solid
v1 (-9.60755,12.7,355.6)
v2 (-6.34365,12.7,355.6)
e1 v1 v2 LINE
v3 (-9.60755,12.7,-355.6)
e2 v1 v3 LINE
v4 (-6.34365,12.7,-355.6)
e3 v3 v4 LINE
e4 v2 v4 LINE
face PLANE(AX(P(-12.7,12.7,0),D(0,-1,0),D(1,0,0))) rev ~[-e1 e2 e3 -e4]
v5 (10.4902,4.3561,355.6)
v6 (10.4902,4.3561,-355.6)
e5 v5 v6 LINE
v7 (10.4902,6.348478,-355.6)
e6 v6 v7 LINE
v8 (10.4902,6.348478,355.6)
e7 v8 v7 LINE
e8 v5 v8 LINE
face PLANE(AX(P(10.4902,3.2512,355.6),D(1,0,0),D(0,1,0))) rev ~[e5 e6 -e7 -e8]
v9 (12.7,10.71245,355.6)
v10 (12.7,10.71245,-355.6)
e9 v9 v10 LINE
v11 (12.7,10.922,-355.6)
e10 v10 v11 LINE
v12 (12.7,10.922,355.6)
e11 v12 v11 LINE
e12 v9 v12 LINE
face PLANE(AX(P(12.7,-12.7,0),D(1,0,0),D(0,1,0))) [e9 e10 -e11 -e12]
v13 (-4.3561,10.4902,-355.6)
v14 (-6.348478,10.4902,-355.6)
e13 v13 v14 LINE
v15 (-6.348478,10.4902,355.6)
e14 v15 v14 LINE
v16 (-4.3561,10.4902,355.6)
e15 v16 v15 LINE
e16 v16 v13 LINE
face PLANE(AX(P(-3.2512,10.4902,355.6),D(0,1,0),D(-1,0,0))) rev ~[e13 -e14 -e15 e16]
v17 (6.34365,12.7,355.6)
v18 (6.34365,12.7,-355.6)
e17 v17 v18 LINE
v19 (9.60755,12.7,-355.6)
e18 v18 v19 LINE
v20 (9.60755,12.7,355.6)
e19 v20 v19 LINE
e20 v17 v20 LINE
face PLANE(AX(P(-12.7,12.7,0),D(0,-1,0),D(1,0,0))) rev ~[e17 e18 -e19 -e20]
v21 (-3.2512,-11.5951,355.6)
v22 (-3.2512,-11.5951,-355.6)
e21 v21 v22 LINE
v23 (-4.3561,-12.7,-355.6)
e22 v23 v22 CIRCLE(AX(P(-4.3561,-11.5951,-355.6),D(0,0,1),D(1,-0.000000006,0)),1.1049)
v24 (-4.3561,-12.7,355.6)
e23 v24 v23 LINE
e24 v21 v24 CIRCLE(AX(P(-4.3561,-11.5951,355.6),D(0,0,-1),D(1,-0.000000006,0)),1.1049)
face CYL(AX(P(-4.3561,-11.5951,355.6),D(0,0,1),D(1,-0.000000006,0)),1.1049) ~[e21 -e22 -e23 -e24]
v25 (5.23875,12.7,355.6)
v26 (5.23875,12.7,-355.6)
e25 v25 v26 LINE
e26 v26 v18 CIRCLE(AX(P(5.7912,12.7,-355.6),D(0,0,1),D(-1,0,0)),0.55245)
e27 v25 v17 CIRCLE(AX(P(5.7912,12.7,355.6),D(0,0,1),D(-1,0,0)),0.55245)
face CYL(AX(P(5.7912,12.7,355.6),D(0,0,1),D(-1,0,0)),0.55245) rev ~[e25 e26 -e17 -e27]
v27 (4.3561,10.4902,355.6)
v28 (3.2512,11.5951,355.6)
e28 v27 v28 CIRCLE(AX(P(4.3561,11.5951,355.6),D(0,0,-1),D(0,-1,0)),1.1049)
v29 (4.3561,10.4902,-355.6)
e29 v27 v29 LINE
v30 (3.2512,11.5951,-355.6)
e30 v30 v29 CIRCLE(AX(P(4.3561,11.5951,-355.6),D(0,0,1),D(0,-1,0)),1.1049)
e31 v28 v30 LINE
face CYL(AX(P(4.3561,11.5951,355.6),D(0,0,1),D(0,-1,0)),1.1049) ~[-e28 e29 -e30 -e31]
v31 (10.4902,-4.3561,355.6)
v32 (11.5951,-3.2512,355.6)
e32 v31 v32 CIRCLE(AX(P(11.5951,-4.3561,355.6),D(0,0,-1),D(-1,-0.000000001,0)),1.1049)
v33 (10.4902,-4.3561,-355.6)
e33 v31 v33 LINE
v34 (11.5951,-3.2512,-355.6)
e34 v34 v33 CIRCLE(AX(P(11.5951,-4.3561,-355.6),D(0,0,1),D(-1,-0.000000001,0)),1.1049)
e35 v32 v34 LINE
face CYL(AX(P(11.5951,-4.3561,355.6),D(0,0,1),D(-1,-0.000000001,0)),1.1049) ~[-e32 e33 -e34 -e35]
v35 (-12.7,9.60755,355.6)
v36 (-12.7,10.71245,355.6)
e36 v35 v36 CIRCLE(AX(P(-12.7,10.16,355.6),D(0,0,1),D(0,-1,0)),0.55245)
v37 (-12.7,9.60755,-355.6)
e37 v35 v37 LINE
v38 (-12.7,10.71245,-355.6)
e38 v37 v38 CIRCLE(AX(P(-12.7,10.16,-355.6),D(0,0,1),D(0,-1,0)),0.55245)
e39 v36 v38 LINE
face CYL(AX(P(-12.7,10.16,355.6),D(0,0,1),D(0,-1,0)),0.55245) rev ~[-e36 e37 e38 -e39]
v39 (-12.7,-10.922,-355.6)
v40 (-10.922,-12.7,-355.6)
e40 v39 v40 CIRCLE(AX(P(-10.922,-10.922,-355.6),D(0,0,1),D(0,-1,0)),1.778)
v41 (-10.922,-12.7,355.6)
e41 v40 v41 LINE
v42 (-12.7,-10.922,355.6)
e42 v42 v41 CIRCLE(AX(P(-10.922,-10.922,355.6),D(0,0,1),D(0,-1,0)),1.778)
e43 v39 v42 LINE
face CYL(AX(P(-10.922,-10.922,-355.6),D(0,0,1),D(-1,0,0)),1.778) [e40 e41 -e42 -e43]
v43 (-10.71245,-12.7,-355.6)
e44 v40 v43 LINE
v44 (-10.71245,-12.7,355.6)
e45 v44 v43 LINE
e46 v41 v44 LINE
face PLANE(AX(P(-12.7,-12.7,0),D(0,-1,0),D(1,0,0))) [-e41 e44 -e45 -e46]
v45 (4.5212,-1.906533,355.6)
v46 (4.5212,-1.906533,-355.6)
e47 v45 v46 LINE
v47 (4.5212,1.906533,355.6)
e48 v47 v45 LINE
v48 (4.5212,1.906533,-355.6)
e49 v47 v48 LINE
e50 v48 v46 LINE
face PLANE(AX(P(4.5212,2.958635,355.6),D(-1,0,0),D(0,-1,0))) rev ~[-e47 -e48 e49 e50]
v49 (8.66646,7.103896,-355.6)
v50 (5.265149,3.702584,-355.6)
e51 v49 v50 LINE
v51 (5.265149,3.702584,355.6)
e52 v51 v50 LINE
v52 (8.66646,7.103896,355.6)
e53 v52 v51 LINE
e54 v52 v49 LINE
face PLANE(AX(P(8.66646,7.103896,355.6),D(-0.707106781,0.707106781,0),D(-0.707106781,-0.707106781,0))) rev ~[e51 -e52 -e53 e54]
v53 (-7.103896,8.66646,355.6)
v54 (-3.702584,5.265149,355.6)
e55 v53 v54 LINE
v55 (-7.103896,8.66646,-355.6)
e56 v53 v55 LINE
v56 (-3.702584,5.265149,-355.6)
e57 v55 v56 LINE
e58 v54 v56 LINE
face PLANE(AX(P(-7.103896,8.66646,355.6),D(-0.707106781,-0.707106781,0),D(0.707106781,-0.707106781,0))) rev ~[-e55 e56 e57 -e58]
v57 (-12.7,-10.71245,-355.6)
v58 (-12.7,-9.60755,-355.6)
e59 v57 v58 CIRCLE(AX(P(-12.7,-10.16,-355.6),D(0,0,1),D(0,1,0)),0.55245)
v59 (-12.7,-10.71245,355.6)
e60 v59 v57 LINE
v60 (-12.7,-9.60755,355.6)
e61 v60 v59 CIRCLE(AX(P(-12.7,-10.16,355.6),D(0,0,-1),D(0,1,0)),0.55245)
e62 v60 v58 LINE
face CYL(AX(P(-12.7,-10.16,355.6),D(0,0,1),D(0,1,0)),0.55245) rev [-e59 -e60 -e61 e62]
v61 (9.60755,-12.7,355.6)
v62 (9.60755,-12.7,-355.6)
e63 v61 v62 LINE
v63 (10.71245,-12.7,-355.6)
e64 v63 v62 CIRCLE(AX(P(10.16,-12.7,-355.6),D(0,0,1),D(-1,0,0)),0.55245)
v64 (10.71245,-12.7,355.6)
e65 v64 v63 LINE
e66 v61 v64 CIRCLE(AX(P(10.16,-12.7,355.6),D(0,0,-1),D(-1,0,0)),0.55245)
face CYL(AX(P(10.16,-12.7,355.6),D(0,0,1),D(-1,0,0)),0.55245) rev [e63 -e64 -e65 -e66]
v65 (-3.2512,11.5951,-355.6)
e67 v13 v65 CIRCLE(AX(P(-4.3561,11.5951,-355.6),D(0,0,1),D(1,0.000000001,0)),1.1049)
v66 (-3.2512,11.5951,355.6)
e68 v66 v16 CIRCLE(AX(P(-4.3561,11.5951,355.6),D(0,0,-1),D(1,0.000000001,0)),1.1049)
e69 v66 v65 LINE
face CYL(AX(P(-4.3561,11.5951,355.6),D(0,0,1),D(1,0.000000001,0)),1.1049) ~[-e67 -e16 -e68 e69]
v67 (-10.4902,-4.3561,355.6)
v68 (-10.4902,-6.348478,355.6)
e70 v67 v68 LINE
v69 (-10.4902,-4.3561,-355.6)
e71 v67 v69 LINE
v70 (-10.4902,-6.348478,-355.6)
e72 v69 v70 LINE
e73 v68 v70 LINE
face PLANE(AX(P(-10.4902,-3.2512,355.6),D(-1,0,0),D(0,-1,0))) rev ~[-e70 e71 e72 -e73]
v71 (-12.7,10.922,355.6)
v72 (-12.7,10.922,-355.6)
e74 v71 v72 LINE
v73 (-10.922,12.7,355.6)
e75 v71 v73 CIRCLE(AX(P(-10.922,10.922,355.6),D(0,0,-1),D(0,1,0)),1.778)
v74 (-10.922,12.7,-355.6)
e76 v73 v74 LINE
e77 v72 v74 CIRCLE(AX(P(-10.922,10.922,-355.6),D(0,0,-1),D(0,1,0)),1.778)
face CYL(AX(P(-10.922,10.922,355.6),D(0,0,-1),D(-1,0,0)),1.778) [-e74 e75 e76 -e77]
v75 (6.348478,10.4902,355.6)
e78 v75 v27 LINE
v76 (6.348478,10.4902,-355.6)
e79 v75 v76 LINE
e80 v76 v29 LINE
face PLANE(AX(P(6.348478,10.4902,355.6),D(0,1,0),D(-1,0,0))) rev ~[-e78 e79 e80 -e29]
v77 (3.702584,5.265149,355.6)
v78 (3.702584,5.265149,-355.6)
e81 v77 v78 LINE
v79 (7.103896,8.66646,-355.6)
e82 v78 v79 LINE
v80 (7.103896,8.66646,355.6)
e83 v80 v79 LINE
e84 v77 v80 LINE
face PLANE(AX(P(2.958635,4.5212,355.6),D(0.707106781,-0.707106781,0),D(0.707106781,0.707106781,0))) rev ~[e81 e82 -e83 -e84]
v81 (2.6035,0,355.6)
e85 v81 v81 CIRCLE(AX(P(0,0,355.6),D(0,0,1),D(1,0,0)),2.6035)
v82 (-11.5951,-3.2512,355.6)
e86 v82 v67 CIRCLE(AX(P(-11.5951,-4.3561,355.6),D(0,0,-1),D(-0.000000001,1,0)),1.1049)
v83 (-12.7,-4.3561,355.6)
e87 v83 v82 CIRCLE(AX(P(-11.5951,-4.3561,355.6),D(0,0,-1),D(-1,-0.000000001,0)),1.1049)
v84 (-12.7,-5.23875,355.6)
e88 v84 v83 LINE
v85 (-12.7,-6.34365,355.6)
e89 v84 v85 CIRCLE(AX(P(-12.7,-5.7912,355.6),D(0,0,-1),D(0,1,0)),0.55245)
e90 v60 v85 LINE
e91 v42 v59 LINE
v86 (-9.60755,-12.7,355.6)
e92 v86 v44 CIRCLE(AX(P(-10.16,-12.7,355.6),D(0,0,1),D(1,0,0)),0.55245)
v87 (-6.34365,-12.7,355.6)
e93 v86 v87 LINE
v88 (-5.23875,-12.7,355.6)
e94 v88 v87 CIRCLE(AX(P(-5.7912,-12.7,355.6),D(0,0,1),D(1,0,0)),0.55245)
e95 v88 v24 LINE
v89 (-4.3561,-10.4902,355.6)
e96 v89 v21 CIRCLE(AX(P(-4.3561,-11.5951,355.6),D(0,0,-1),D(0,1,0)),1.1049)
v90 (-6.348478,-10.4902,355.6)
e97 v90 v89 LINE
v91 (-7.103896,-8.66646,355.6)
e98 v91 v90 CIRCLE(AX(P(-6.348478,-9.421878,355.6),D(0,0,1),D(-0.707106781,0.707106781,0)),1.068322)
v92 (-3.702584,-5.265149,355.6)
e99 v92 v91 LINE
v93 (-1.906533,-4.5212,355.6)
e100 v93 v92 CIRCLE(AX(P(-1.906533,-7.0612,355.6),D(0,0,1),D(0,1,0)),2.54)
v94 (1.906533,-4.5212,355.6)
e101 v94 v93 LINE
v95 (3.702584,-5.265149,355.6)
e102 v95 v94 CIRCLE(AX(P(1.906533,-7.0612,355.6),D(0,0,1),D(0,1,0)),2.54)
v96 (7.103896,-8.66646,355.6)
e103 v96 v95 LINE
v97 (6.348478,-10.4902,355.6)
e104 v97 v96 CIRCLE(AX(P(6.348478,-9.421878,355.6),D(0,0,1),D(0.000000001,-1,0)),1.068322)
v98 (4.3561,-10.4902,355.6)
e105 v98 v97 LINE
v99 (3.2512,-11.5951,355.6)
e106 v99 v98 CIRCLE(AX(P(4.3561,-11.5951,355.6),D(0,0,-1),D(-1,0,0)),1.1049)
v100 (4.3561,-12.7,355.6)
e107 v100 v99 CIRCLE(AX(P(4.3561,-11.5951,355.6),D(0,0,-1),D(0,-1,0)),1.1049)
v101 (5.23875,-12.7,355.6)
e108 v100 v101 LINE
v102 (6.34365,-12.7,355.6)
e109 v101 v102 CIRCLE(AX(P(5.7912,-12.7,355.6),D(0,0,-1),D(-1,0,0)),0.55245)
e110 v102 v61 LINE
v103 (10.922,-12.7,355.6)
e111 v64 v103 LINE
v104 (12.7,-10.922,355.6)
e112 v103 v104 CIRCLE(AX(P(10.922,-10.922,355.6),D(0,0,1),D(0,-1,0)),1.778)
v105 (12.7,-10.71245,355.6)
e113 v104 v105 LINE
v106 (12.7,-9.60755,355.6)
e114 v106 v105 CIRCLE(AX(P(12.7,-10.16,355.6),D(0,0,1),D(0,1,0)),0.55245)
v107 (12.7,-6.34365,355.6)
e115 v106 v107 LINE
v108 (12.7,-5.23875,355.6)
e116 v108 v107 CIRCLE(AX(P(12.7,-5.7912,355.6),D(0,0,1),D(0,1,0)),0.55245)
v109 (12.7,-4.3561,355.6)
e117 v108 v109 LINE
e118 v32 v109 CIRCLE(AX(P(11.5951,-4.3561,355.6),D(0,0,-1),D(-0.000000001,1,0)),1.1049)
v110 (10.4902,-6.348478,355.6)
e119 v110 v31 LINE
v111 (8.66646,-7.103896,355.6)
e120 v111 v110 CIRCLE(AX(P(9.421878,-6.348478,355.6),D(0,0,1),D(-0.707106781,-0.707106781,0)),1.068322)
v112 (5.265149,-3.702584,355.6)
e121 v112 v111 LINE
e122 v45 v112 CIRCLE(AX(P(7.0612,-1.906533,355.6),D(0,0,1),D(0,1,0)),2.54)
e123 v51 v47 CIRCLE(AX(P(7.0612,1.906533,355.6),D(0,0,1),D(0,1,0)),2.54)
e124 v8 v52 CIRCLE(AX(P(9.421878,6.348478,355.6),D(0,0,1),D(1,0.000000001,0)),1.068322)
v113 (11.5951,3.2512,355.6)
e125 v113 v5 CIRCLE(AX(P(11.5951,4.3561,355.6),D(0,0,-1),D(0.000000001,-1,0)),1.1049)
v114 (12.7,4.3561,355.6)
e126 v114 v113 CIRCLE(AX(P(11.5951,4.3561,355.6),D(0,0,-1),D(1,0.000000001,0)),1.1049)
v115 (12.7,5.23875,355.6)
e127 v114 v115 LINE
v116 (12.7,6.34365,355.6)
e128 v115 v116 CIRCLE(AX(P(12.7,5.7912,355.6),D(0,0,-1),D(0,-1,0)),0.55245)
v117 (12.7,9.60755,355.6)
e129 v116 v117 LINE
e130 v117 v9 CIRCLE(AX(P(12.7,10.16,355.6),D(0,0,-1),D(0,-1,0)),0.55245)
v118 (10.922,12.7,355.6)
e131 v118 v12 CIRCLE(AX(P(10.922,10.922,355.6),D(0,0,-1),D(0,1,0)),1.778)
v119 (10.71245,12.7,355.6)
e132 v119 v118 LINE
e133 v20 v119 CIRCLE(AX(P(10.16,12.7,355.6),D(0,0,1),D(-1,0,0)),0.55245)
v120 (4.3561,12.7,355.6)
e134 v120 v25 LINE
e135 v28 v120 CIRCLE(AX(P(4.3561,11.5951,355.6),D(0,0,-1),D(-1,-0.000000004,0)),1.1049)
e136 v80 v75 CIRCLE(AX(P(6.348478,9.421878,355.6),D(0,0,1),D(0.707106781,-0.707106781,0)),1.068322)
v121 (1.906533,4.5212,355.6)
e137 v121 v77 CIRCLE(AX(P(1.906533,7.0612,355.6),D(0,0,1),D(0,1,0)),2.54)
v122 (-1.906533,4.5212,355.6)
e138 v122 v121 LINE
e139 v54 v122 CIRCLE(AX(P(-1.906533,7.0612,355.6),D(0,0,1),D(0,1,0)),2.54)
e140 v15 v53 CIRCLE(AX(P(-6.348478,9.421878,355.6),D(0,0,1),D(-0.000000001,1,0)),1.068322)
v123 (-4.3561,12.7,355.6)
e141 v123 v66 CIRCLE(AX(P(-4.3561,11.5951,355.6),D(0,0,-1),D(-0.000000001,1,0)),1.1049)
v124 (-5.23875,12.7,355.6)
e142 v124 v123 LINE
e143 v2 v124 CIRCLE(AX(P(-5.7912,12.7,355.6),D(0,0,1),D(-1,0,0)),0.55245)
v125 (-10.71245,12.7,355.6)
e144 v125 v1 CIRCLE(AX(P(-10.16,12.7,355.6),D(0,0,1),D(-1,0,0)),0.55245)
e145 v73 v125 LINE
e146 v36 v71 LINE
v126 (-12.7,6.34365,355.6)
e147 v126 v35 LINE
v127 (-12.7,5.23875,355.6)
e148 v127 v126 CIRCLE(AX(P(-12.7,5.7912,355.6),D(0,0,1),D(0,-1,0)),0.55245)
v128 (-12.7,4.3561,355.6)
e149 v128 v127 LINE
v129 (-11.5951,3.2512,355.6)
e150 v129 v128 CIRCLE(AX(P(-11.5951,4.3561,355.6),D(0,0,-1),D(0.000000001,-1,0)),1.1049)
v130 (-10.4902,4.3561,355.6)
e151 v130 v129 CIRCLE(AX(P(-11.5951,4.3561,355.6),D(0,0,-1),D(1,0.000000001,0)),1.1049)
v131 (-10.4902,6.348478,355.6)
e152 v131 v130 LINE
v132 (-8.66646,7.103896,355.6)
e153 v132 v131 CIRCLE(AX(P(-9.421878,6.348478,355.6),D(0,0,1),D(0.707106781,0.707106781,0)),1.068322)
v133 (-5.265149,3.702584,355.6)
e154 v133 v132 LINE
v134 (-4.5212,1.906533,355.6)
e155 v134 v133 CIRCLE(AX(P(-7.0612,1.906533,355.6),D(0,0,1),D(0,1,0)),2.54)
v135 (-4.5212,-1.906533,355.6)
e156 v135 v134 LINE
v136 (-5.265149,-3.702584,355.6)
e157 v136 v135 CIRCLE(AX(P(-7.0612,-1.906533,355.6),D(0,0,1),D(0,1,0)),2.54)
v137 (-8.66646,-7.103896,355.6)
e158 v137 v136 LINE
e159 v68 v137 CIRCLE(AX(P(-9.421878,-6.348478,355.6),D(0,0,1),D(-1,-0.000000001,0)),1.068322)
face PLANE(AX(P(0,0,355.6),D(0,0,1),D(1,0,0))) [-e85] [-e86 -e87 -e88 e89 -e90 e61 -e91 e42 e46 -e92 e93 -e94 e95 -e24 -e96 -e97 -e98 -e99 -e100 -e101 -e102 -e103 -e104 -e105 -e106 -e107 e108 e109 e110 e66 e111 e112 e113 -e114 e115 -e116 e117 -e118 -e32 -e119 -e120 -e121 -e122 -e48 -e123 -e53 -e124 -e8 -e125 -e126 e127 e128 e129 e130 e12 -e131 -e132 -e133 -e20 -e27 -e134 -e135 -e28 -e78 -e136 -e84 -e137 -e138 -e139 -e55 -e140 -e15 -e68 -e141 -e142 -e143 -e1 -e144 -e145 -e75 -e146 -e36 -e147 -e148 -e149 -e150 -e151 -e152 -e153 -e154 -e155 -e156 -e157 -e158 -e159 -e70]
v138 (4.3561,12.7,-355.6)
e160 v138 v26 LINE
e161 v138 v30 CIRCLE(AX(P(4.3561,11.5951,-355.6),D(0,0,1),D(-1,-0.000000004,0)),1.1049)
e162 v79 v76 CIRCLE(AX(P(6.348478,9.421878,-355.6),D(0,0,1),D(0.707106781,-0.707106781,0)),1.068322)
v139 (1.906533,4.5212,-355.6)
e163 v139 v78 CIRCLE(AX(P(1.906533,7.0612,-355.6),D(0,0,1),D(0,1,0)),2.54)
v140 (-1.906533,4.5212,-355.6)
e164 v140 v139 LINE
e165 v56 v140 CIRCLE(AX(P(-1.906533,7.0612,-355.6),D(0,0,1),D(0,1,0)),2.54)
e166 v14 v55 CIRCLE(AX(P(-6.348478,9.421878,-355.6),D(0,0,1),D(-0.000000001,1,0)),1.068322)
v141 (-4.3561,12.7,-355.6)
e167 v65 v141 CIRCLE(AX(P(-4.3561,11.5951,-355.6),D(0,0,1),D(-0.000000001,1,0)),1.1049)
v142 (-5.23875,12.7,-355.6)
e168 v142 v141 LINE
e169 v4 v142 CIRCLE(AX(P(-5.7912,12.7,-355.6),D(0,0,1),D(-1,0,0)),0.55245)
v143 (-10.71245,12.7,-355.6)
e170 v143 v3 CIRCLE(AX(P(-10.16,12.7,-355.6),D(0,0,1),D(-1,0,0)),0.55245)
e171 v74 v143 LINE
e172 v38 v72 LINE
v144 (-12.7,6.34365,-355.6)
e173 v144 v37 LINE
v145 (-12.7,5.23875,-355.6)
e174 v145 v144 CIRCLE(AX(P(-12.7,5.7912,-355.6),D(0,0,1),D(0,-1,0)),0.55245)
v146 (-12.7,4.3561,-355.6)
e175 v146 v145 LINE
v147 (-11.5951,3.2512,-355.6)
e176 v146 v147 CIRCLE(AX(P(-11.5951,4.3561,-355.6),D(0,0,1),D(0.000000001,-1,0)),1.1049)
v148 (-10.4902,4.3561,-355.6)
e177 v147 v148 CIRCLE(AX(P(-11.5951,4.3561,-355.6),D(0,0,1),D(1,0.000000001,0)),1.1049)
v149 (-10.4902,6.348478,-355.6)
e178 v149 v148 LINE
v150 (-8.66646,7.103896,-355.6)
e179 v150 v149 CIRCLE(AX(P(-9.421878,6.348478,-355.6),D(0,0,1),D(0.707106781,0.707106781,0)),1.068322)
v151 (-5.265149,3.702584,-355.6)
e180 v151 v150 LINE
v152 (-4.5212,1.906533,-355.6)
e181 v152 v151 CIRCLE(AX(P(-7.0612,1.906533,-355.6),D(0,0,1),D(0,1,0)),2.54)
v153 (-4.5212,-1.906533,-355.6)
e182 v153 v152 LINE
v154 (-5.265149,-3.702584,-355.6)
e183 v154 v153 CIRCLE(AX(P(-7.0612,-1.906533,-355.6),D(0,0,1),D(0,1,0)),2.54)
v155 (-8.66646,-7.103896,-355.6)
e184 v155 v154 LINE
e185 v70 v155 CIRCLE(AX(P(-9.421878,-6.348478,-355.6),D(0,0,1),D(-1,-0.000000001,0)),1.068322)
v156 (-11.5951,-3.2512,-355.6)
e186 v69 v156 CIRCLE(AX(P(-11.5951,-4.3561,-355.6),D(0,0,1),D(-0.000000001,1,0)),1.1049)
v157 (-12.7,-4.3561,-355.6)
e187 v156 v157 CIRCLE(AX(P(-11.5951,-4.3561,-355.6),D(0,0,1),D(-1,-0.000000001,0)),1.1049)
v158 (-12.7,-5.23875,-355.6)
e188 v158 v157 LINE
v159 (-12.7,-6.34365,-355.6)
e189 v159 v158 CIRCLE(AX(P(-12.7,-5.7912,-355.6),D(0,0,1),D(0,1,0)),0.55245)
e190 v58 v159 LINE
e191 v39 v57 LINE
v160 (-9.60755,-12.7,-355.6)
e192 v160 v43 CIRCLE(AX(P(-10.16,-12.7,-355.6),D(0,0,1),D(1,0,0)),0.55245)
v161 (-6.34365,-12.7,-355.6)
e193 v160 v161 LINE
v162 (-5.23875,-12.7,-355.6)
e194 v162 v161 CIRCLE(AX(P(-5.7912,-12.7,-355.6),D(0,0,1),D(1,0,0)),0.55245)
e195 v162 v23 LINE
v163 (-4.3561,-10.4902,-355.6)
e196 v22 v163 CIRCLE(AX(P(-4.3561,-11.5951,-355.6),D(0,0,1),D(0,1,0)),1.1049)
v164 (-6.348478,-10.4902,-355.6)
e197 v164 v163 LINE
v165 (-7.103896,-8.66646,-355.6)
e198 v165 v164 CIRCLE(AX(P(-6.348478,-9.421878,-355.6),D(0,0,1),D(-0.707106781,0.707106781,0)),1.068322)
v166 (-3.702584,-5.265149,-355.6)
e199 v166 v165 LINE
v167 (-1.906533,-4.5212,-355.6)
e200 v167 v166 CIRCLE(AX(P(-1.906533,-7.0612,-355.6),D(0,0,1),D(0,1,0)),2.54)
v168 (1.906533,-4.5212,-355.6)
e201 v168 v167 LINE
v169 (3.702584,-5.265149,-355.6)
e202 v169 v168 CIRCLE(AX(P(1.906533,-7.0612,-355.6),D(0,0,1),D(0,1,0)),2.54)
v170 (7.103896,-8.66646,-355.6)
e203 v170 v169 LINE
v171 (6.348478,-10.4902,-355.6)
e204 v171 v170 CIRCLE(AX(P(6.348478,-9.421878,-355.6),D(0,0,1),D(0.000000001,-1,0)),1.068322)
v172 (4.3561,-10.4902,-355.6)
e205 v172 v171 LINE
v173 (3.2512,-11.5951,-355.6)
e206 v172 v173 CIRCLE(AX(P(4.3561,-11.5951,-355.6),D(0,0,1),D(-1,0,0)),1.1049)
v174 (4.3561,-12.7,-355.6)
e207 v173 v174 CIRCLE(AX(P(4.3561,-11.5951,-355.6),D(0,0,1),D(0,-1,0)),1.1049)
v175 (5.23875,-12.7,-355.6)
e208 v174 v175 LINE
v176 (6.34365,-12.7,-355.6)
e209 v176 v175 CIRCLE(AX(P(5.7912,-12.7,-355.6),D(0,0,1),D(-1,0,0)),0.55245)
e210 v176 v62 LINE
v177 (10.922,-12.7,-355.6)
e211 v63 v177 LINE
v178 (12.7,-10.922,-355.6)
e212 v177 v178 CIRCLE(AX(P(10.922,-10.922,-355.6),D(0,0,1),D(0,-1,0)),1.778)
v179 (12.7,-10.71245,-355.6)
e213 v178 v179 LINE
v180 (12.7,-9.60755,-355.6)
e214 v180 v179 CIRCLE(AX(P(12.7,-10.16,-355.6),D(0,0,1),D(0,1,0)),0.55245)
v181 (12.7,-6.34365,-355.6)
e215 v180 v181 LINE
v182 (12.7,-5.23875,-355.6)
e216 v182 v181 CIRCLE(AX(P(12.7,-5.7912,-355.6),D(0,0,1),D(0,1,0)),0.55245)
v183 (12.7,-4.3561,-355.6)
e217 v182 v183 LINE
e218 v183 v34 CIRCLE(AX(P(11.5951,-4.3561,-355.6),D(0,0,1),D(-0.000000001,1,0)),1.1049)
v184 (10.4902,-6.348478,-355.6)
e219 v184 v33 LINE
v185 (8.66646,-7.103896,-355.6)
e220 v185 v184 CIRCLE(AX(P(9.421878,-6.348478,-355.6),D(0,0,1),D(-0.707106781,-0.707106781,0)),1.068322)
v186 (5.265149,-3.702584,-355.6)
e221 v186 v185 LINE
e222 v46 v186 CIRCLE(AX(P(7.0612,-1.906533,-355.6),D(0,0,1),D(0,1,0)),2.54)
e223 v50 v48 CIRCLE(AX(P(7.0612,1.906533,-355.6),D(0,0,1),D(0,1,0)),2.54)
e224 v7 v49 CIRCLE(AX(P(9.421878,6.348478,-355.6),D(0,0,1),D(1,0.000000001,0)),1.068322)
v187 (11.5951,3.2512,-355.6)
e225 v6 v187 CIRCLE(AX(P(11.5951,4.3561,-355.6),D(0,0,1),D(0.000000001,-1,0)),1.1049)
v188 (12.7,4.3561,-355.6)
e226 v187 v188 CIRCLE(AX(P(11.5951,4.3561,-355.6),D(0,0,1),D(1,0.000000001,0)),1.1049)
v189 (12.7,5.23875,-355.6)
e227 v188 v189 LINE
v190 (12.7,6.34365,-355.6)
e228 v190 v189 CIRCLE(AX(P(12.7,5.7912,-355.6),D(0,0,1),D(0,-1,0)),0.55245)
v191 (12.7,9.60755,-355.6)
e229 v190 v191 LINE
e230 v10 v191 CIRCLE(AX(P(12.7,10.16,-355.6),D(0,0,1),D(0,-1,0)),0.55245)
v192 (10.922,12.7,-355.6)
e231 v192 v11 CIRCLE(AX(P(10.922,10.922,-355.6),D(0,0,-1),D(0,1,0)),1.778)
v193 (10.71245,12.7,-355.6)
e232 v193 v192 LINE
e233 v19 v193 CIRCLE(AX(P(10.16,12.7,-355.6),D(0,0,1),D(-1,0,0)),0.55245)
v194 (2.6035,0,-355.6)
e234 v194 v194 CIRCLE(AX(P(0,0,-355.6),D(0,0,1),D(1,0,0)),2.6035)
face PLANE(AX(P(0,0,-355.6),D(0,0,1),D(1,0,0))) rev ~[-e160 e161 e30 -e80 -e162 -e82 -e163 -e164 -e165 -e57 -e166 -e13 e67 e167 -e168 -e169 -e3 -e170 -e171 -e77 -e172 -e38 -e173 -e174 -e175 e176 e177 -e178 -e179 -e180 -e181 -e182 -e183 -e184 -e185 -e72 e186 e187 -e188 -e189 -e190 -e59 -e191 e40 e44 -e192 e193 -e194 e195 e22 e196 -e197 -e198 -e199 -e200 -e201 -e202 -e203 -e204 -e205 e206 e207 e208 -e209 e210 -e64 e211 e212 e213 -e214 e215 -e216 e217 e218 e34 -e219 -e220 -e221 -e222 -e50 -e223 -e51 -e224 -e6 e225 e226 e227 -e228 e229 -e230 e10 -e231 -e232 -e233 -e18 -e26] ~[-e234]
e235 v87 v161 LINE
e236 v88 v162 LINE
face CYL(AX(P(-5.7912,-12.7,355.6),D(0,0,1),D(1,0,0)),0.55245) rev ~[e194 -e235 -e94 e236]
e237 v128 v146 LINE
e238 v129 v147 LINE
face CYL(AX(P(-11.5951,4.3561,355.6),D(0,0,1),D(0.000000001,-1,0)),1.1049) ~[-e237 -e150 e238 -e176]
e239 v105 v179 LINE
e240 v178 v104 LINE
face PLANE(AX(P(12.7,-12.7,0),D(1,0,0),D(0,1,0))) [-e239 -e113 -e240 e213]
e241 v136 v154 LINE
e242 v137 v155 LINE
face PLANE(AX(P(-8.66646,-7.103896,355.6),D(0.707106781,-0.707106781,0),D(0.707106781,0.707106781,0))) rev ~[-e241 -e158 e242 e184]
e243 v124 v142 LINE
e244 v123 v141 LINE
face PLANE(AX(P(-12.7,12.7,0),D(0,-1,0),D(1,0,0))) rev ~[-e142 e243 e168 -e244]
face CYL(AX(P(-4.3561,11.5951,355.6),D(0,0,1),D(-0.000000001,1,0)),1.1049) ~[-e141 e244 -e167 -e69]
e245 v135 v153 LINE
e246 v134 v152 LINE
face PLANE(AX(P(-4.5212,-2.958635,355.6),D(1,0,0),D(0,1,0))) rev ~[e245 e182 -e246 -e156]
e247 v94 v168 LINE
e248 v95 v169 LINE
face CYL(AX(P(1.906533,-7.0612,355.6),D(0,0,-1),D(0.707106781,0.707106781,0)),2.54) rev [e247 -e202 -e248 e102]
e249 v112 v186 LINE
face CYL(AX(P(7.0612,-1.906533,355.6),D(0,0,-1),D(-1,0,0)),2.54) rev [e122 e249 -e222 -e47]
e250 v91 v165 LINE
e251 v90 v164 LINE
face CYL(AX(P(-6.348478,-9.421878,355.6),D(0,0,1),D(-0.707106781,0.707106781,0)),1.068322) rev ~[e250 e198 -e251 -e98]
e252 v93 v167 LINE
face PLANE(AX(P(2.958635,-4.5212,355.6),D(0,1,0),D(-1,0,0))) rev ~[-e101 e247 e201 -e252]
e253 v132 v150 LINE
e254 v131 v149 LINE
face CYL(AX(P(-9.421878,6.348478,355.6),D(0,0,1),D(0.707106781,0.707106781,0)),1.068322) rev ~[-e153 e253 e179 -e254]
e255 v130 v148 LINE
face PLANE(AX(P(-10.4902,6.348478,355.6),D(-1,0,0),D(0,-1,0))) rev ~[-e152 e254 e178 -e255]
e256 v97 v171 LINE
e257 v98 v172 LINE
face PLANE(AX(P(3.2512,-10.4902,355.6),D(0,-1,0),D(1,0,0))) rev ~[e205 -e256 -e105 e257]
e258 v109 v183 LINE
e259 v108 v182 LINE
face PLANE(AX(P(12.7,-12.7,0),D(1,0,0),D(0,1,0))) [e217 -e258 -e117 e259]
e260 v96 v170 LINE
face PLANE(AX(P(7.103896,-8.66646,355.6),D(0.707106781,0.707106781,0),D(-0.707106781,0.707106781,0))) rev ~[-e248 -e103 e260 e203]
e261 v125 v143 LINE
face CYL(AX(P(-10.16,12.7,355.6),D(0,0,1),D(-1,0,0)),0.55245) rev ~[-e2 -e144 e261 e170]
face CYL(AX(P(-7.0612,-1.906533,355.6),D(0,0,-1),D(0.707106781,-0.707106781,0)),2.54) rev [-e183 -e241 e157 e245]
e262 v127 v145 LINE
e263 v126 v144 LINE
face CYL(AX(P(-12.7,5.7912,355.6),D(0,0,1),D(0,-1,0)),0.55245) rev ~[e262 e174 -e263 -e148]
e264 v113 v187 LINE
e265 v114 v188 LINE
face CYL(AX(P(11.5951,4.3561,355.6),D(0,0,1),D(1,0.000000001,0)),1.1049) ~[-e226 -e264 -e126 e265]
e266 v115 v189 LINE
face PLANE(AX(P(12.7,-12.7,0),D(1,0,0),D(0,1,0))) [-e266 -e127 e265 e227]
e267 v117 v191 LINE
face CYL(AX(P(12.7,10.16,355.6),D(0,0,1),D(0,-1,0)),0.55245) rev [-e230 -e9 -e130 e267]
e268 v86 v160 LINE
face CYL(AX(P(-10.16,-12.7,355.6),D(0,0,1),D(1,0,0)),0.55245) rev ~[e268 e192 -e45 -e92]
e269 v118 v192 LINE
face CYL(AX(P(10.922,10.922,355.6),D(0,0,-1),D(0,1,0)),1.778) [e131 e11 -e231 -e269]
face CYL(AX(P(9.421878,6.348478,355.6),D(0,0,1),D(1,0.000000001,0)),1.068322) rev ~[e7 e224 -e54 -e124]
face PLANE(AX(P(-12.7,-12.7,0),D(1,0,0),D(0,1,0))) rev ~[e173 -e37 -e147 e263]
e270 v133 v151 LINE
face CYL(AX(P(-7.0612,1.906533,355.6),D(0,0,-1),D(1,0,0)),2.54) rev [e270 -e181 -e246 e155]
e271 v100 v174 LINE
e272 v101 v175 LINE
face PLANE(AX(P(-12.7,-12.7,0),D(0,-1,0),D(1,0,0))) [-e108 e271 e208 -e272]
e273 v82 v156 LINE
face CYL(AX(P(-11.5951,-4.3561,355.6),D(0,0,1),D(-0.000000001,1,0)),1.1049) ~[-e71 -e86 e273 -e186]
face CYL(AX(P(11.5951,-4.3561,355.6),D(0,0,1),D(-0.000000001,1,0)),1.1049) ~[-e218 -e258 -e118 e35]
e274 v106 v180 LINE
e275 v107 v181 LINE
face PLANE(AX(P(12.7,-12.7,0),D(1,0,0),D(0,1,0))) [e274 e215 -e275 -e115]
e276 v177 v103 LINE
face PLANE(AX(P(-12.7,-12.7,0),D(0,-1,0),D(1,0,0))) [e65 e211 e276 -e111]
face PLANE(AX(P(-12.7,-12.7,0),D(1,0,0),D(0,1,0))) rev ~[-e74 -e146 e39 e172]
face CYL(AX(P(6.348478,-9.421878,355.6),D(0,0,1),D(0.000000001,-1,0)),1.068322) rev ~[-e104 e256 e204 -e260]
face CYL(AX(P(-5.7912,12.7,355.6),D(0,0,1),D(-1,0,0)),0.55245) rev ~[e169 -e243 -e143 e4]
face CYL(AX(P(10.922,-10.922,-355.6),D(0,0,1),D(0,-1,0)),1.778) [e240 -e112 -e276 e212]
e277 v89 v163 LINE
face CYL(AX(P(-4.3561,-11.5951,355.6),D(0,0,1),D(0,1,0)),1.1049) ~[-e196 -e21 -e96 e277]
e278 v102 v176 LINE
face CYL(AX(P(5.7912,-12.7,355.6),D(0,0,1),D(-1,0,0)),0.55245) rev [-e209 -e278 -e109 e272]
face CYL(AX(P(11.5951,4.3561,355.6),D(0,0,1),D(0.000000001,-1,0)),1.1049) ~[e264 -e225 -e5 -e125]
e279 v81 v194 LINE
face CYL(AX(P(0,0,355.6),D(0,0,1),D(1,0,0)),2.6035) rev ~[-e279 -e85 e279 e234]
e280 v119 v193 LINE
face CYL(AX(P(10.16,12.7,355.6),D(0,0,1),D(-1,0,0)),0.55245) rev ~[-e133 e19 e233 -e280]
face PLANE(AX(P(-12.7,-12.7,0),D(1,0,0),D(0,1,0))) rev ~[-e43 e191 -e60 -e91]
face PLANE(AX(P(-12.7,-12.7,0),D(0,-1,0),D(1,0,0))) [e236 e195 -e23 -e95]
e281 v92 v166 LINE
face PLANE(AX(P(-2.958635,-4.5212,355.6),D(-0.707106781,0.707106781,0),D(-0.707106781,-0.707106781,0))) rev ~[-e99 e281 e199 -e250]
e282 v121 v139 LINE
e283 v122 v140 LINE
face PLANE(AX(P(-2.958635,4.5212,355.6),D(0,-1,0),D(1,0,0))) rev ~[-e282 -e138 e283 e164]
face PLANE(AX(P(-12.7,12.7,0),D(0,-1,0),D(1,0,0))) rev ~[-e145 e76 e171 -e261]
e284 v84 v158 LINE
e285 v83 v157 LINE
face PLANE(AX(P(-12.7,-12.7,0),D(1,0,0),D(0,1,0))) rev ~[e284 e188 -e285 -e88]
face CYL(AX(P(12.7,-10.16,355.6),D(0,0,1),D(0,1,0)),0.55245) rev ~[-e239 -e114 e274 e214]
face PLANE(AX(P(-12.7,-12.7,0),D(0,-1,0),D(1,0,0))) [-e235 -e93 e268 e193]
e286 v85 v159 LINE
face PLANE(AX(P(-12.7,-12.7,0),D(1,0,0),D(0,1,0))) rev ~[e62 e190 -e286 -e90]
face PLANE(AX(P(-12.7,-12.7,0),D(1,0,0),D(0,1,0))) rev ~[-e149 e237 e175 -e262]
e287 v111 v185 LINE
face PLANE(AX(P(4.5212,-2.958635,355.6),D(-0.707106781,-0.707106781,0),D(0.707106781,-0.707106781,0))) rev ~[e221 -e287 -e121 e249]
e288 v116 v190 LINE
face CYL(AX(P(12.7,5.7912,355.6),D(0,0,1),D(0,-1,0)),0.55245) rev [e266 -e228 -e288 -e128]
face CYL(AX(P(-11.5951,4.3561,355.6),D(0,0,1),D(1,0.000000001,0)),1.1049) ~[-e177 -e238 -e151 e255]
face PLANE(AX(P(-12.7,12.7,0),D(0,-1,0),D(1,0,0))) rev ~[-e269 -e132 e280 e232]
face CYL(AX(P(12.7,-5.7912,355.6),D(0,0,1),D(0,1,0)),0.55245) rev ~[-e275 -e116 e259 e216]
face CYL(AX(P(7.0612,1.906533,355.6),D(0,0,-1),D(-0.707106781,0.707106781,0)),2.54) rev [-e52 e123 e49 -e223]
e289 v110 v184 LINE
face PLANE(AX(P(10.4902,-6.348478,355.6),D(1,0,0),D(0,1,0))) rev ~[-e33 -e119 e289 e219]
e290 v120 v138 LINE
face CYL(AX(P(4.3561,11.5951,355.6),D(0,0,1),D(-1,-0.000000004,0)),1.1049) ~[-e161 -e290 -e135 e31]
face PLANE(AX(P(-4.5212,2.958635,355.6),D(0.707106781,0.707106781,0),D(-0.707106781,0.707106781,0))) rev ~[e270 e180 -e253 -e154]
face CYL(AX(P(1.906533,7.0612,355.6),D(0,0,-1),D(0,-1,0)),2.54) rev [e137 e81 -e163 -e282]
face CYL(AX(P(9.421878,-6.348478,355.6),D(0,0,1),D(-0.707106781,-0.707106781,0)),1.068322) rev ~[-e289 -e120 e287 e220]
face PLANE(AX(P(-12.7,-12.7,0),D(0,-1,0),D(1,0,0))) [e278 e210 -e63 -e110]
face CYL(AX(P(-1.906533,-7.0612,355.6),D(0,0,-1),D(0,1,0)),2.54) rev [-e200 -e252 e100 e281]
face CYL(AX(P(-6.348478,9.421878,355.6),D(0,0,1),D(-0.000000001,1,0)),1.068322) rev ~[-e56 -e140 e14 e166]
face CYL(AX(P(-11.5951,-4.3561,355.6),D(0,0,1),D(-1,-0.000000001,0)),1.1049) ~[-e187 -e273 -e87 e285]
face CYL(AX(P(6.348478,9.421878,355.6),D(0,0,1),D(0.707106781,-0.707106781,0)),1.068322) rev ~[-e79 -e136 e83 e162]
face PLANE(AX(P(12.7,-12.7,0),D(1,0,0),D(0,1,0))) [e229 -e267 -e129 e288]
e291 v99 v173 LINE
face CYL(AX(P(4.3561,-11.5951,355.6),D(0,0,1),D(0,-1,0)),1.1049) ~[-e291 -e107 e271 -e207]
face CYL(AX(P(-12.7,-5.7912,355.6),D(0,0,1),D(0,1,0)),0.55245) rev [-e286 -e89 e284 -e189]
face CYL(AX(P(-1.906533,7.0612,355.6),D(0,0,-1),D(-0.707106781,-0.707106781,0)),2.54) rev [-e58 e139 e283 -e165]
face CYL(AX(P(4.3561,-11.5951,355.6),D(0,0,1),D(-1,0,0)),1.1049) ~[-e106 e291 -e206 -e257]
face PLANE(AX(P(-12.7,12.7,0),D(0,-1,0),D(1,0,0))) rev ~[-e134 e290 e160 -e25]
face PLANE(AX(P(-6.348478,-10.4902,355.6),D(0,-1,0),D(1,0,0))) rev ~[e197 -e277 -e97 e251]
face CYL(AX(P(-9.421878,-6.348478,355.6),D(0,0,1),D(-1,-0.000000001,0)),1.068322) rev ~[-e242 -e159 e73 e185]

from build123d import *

# Parameters (mm, degrees)
SKETCH3_W                = 25.4
SKETCH3_H                = 25.4
BOSS_EXTRUDE1_DEPTH      = 355.6
BOSS_EXTRUDE1_DEPTH_BACK = 355.6
SKETCH4_R                = 2.6035
CUT_EXTRUDE1_DEPTH       = 712.2
CUT_EXTRUDE2_DEPTH       = 712.2
FILLET1_R                = 2.54
FILLET2_R                = 1.778


with BuildPart() as part:
    # Sketch3 → Boss-Extrude1 (new body, two sides)
    with BuildSketch(Plane.XY) as boss_extrude1_sk:
        Rectangle(SKETCH3_W, SKETCH3_H)
    extrude(amount=BOSS_EXTRUDE1_DEPTH)
    extrude(boss_extrude1_sk.sketch, amount=-BOSS_EXTRUDE1_DEPTH_BACK)

    # Sketch4 → Cut-Extrude1 (cut, through all)
    with BuildSketch(Plane.XY.offset(355.6)):
        with BuildLine():
            Line((3.2512, 12.7), (-3.2512, 12.7))
            Line((-3.2512, 12.7), (-3.2512, 10.4902))
            Line((-3.2512, 10.4902), (-6.348478019, 10.4902))
            ThreePointArc((-6.348478019, 10.4902), (-7.335478831, 9.830707141), (-7.103895736, 8.666460301))
            Line((-7.103895736, 8.666460301), (-2.958635435, 4.5212))
            Line((-2.958635435, 4.5212), (2.958635435, 4.5212))
            Line((2.958635435, 4.5212), (7.103895736, 8.666460301))
            ThreePointArc((7.103895736, 8.666460301), (7.335478831, 9.830707141), (6.348478019, 10.4902))
            Line((6.348478019, 10.4902), (3.2512, 10.4902))
            Line((3.2512, 10.4902), (3.2512, 12.7))
        make_face()
        with BuildLine():
            Line((12.7, -3.2512), (12.7, 3.2512))
            Line((12.7, 3.2512), (10.4902, 3.2512))
            Line((10.4902, 3.2512), (10.4902, 6.348478019))
            ThreePointArc((10.4902, 6.348478019), (9.830707141, 7.335478831), (8.666460301, 7.103895736))
            Line((8.666460301, 7.103895736), (4.5212, 2.958635435))
            Line((4.5212, 2.958635435), (4.5212, -2.958635435))
            Line((4.5212, -2.958635435), (8.666460301, -7.103895736))
            ThreePointArc((8.666460301, -7.103895736), (9.830707141, -7.335478831), (10.4902, -6.348478019))
            Line((10.4902, -6.348478019), (10.4902, -3.2512))
            Line((10.4902, -3.2512), (12.7, -3.2512))
        make_face()
        with BuildLine():
            Line((-3.2512, -10.4902), (-3.2512, -12.7))
            Line((-3.2512, -12.7), (3.2512, -12.7))
            Line((3.2512, -12.7), (3.2512, -10.4902))
            Line((3.2512, -10.4902), (6.348478019, -10.4902))
            ThreePointArc((6.348478019, -10.4902), (7.335478831, -9.830707141), (7.103895736, -8.666460301))
            Line((7.103895736, -8.666460301), (2.958635435, -4.5212))
            Line((2.958635435, -4.5212), (-2.958635435, -4.5212))
            Line((-2.958635435, -4.5212), (-7.103895736, -8.666460301))
            ThreePointArc((-7.103895736, -8.666460301), (-7.335478831, -9.830707141), (-6.348478019, -10.4902))
            Line((-6.348478019, -10.4902), (-3.2512, -10.4902))
        make_face()
        with BuildLine():
            Line((-10.4902, 3.2512), (-12.7, 3.2512))
            Line((-12.7, 3.2512), (-12.7, -3.2512))
            Line((-12.7, -3.2512), (-10.4902, -3.2512))
            Line((-10.4902, -3.2512), (-10.4902, -6.348478019))
            ThreePointArc((-10.4902, -6.348478019), (-9.830707141, -7.335478831), (-8.666460301, -7.103895736))
            Line((-8.666460301, -7.103895736), (-4.5212, -2.958635435))
            Line((-4.5212, -2.958635435), (-4.5212, 2.958635435))
            Line((-4.5212, 2.958635435), (-8.666460301, 7.103895736))
            ThreePointArc((-8.666460301, 7.103895736), (-9.830707141, 7.335478831), (-10.4902, 6.348478019))
            Line((-10.4902, 6.348478019), (-10.4902, 3.2512))
        make_face()
        Circle(SKETCH4_R)
    extrude(amount=-CUT_EXTRUDE1_DEPTH, mode=Mode.SUBTRACT)

    # Sketch5 → Cut-Extrude2 (cut, through all)
    with BuildSketch(Plane.XY.offset(355.6)):
        with BuildLine():
            ThreePointArc((-11.5951, 3.2512), (-12.376382283, 3.574817717), (-12.7, 4.3561))
            Line((-12.7, 4.3561), (-12.7, 3.2512))
            Line((-12.7, 3.2512), (-11.5951, 3.2512))
        make_face()
        with BuildLine():
            ThreePointArc((-10.4902, 4.3561), (-10.813817717, 3.574817717), (-11.5951, 3.2512))
            Line((-11.5951, 3.2512), (-10.4902, 3.2512))
            Line((-10.4902, 3.2512), (-10.4902, 4.3561))
        make_face()
        with BuildLine():
            Line((-12.7, -3.2512), (-12.7, -4.3561))
            ThreePointArc((-12.7, -4.3561), (-12.376382283, -3.574817717), (-11.5951, -3.2512))
            Line((-11.5951, -3.2512), (-12.7, -3.2512))
        make_face()
        with BuildLine():
            Line((-10.4902, -3.2512), (-11.5951, -3.2512))
            ThreePointArc((-11.5951, -3.2512), (-10.813817717, -3.574817717), (-10.4902, -4.3561))
            Line((-10.4902, -4.3561), (-10.4902, -3.2512))
        make_face()
        with BuildLine():
            Line((-3.2512, -11.595100007), (-3.2512, -10.4902))
            Line((-3.2512, -10.4902), (-4.3561, -10.4902))
            ThreePointArc((-4.3561, -10.4902), (-3.574817715, -10.81381772), (-3.2512, -11.595100007))
        make_face()
        with BuildLine():
            Line((-3.2512, -12.7), (-3.2512, -11.595100007))
            ThreePointArc((-3.2512, -11.595100007), (-3.57481772, -12.376382285), (-4.3561, -12.7))
            Line((-4.3561, -12.7), (-3.2512, -12.7))
        make_face()
        with BuildLine():
            Line((3.2512, -10.4902), (3.2512, -11.5951))
            ThreePointArc((3.2512, -11.5951), (3.574817718, -10.813817717), (4.3561, -10.4902))
            Line((4.3561, -10.4902), (3.2512, -10.4902))
        make_face()
        with BuildLine():
            Line((3.2512, -12.7), (4.3561, -12.7))
            ThreePointArc((4.3561, -12.7), (3.574817717, -12.376382282), (3.2512, -11.5951))
            Line((3.2512, -11.5951), (3.2512, -12.7))
        make_face()
        with BuildLine():
            Line((11.5951, -3.2512), (10.4902, -3.2512))
            Line((10.4902, -3.2512), (10.4902, -4.3561))
            ThreePointArc((10.4902, -4.3561), (10.813817717, -3.574817717), (11.5951, -3.2512))
        make_face()
        with BuildLine():
            Line((12.7, -3.2512), (11.5951, -3.2512))
            ThreePointArc((11.5951, -3.2512), (12.376382283, -3.574817717), (12.7, -4.3561))
            Line((12.7, -4.3561), (12.7, -3.2512))
        make_face()
        with BuildLine():
            Line((10.4902, 3.2512), (11.5951, 3.2512))
            ThreePointArc((11.5951, 3.2512), (10.813817717, 3.574817717), (10.4902, 4.3561))
            Line((10.4902, 4.3561), (10.4902, 3.2512))
        make_face()
        with BuildLine():
            Line((12.7, 3.2512), (12.7, 4.3561))
            ThreePointArc((12.7, 4.3561), (12.376382283, 3.574817717), (11.5951, 3.2512))
            Line((11.5951, 3.2512), (12.7, 3.2512))
        make_face()
        with BuildLine():
            Line((3.2512, 12.7), (3.2512, 11.595099996))
            ThreePointArc((3.2512, 11.595099996), (3.574817716, 12.376382281), (4.3561, 12.7))
            Line((4.3561, 12.7), (3.2512, 12.7))
        make_face()
        with BuildLine():
            Line((3.2512, 11.595099996), (3.2512, 10.4902))
            Line((3.2512, 10.4902), (4.3561, 10.4902))
            ThreePointArc((4.3561, 10.4902), (3.574817719, 10.813817716), (3.2512, 11.595099996))
        make_face()
        with BuildLine():
            Line((-3.2512, 12.7), (-4.3561, 12.7))
            ThreePointArc((-4.3561, 12.7), (-3.574817717, 12.376382283), (-3.2512, 11.5951))
            Line((-3.2512, 11.5951), (-3.2512, 12.7))
        make_face()
        with BuildLine():
            Line((-3.2512, 10.4902), (-3.2512, 11.5951))
            ThreePointArc((-3.2512, 11.5951), (-3.574817717, 10.813817717), (-4.3561, 10.4902))
            Line((-4.3561, 10.4902), (-3.2512, 10.4902))
        make_face()
        with BuildLine():
            ThreePointArc((-12.7, 5.23875), (-12.14755, 5.7912), (-12.7, 6.34365))
            Line((-12.7, 6.34365), (-12.7, 5.23875))
        make_face()
        with BuildLine():
            ThreePointArc((-12.7, 9.60755), (-12.14755, 10.16), (-12.7, 10.71245))
            Line((-12.7, 10.71245), (-12.7, 9.60755))
        make_face()
        with BuildLine():
            ThreePointArc((-10.71245, 12.7), (-10.16, 12.14755), (-9.60755, 12.7))
            Line((-9.60755, 12.7), (-10.71245, 12.7))
        make_face()
        with BuildLine():
            ThreePointArc((-6.34365, 12.7), (-5.7912, 12.14755), (-5.23875, 12.7))
            Line((-5.23875, 12.7), (-6.34365, 12.7))
        make_face()
        with BuildLine():
            Line((6.34365, 12.7), (5.23875, 12.7))
            ThreePointArc((5.23875, 12.7), (5.7912, 12.14755), (6.34365, 12.7))
        make_face()
        with BuildLine():
            Line((10.71245, 12.7), (9.60755, 12.7))
            ThreePointArc((9.60755, 12.7), (10.16, 12.14755), (10.71245, 12.7))
        make_face()
        with BuildLine():
            Line((12.7, 10.71245), (12.7, 9.60755))
            ThreePointArc((12.7, 9.60755), (12.14755, 10.16), (12.7, 10.71245))
        make_face()
        with BuildLine():
            Line((12.7, 6.34365), (12.7, 5.23875))
            ThreePointArc((12.7, 5.23875), (12.14755, 5.7912), (12.7, 6.34365))
        make_face()
        with BuildLine():
            Line((-12.7, -6.34365), (-12.7, -5.23875))
            ThreePointArc((-12.7, -5.23875), (-12.14755, -5.7912), (-12.7, -6.34365))
        make_face()
        with BuildLine():
            Line((-12.7, -10.71245), (-12.7, -9.60755))
            ThreePointArc((-12.7, -9.60755), (-12.14755, -10.16), (-12.7, -10.71245))
        make_face()
        with BuildLine():
            Line((-10.71245, -12.7), (-9.60755, -12.7))
            ThreePointArc((-9.60755, -12.7), (-10.16, -12.14755), (-10.71245, -12.7))
        make_face()
        with BuildLine():
            Line((-6.34365, -12.7), (-5.23875, -12.7))
            ThreePointArc((-5.23875, -12.7), (-5.7912, -12.14755), (-6.34365, -12.7))
        make_face()
        with BuildLine():
            Line((12.7, -10.71245), (12.7, -9.60755))
            ThreePointArc((12.7, -9.60755), (12.14755, -10.16), (12.7, -10.71245))
        make_face()
        with BuildLine():
            Line((12.7, -6.34365), (12.7, -5.23875))
            ThreePointArc((12.7, -5.23875), (12.14755, -5.7912), (12.7, -6.34365))
        make_face()
        with BuildLine():
            Line((10.71245, -12.7), (9.60755, -12.7))
            ThreePointArc((9.60755, -12.7), (10.16, -12.14755), (10.71245, -12.7))
        make_face()
        with BuildLine():
            Line((6.34365, -12.7), (5.23875, -12.7))
            ThreePointArc((5.23875, -12.7), (5.7912, -12.14755), (6.34365, -12.7))
        make_face()
    extrude(amount=-CUT_EXTRUDE2_DEPTH, mode=Mode.SUBTRACT)

    # Fillet1
    fillet1_edges = [part.edges().sort_by_distance(p)[0] for p in [
        (2.958635435, 4.5212, 0),
        (-2.958635435, 4.5212, 0),
        (-2.958635435, -4.5212, 0),
        (2.958635435, -4.5212, 0),
        (4.5212, -2.958635435, 0),
        (4.5212, 2.958635435, 0),
        (-4.5212, 2.958635435, 0),
        (-4.5212, -2.958635435, 0),
    ]]
    fillet(fillet1_edges, radius=FILLET1_R)

    # Fillet2
    fillet2_edges = [part.edges().sort_by_distance(p)[0] for p in [
        (-12.7, 12.7, 0),
        (12.7, 12.7, 0),
        (12.7, -12.7, 0),
        (-12.7, -12.7, 0),
    ]]
    fillet(fillet2_edges, radius=FILLET2_R)


solid = part.part
